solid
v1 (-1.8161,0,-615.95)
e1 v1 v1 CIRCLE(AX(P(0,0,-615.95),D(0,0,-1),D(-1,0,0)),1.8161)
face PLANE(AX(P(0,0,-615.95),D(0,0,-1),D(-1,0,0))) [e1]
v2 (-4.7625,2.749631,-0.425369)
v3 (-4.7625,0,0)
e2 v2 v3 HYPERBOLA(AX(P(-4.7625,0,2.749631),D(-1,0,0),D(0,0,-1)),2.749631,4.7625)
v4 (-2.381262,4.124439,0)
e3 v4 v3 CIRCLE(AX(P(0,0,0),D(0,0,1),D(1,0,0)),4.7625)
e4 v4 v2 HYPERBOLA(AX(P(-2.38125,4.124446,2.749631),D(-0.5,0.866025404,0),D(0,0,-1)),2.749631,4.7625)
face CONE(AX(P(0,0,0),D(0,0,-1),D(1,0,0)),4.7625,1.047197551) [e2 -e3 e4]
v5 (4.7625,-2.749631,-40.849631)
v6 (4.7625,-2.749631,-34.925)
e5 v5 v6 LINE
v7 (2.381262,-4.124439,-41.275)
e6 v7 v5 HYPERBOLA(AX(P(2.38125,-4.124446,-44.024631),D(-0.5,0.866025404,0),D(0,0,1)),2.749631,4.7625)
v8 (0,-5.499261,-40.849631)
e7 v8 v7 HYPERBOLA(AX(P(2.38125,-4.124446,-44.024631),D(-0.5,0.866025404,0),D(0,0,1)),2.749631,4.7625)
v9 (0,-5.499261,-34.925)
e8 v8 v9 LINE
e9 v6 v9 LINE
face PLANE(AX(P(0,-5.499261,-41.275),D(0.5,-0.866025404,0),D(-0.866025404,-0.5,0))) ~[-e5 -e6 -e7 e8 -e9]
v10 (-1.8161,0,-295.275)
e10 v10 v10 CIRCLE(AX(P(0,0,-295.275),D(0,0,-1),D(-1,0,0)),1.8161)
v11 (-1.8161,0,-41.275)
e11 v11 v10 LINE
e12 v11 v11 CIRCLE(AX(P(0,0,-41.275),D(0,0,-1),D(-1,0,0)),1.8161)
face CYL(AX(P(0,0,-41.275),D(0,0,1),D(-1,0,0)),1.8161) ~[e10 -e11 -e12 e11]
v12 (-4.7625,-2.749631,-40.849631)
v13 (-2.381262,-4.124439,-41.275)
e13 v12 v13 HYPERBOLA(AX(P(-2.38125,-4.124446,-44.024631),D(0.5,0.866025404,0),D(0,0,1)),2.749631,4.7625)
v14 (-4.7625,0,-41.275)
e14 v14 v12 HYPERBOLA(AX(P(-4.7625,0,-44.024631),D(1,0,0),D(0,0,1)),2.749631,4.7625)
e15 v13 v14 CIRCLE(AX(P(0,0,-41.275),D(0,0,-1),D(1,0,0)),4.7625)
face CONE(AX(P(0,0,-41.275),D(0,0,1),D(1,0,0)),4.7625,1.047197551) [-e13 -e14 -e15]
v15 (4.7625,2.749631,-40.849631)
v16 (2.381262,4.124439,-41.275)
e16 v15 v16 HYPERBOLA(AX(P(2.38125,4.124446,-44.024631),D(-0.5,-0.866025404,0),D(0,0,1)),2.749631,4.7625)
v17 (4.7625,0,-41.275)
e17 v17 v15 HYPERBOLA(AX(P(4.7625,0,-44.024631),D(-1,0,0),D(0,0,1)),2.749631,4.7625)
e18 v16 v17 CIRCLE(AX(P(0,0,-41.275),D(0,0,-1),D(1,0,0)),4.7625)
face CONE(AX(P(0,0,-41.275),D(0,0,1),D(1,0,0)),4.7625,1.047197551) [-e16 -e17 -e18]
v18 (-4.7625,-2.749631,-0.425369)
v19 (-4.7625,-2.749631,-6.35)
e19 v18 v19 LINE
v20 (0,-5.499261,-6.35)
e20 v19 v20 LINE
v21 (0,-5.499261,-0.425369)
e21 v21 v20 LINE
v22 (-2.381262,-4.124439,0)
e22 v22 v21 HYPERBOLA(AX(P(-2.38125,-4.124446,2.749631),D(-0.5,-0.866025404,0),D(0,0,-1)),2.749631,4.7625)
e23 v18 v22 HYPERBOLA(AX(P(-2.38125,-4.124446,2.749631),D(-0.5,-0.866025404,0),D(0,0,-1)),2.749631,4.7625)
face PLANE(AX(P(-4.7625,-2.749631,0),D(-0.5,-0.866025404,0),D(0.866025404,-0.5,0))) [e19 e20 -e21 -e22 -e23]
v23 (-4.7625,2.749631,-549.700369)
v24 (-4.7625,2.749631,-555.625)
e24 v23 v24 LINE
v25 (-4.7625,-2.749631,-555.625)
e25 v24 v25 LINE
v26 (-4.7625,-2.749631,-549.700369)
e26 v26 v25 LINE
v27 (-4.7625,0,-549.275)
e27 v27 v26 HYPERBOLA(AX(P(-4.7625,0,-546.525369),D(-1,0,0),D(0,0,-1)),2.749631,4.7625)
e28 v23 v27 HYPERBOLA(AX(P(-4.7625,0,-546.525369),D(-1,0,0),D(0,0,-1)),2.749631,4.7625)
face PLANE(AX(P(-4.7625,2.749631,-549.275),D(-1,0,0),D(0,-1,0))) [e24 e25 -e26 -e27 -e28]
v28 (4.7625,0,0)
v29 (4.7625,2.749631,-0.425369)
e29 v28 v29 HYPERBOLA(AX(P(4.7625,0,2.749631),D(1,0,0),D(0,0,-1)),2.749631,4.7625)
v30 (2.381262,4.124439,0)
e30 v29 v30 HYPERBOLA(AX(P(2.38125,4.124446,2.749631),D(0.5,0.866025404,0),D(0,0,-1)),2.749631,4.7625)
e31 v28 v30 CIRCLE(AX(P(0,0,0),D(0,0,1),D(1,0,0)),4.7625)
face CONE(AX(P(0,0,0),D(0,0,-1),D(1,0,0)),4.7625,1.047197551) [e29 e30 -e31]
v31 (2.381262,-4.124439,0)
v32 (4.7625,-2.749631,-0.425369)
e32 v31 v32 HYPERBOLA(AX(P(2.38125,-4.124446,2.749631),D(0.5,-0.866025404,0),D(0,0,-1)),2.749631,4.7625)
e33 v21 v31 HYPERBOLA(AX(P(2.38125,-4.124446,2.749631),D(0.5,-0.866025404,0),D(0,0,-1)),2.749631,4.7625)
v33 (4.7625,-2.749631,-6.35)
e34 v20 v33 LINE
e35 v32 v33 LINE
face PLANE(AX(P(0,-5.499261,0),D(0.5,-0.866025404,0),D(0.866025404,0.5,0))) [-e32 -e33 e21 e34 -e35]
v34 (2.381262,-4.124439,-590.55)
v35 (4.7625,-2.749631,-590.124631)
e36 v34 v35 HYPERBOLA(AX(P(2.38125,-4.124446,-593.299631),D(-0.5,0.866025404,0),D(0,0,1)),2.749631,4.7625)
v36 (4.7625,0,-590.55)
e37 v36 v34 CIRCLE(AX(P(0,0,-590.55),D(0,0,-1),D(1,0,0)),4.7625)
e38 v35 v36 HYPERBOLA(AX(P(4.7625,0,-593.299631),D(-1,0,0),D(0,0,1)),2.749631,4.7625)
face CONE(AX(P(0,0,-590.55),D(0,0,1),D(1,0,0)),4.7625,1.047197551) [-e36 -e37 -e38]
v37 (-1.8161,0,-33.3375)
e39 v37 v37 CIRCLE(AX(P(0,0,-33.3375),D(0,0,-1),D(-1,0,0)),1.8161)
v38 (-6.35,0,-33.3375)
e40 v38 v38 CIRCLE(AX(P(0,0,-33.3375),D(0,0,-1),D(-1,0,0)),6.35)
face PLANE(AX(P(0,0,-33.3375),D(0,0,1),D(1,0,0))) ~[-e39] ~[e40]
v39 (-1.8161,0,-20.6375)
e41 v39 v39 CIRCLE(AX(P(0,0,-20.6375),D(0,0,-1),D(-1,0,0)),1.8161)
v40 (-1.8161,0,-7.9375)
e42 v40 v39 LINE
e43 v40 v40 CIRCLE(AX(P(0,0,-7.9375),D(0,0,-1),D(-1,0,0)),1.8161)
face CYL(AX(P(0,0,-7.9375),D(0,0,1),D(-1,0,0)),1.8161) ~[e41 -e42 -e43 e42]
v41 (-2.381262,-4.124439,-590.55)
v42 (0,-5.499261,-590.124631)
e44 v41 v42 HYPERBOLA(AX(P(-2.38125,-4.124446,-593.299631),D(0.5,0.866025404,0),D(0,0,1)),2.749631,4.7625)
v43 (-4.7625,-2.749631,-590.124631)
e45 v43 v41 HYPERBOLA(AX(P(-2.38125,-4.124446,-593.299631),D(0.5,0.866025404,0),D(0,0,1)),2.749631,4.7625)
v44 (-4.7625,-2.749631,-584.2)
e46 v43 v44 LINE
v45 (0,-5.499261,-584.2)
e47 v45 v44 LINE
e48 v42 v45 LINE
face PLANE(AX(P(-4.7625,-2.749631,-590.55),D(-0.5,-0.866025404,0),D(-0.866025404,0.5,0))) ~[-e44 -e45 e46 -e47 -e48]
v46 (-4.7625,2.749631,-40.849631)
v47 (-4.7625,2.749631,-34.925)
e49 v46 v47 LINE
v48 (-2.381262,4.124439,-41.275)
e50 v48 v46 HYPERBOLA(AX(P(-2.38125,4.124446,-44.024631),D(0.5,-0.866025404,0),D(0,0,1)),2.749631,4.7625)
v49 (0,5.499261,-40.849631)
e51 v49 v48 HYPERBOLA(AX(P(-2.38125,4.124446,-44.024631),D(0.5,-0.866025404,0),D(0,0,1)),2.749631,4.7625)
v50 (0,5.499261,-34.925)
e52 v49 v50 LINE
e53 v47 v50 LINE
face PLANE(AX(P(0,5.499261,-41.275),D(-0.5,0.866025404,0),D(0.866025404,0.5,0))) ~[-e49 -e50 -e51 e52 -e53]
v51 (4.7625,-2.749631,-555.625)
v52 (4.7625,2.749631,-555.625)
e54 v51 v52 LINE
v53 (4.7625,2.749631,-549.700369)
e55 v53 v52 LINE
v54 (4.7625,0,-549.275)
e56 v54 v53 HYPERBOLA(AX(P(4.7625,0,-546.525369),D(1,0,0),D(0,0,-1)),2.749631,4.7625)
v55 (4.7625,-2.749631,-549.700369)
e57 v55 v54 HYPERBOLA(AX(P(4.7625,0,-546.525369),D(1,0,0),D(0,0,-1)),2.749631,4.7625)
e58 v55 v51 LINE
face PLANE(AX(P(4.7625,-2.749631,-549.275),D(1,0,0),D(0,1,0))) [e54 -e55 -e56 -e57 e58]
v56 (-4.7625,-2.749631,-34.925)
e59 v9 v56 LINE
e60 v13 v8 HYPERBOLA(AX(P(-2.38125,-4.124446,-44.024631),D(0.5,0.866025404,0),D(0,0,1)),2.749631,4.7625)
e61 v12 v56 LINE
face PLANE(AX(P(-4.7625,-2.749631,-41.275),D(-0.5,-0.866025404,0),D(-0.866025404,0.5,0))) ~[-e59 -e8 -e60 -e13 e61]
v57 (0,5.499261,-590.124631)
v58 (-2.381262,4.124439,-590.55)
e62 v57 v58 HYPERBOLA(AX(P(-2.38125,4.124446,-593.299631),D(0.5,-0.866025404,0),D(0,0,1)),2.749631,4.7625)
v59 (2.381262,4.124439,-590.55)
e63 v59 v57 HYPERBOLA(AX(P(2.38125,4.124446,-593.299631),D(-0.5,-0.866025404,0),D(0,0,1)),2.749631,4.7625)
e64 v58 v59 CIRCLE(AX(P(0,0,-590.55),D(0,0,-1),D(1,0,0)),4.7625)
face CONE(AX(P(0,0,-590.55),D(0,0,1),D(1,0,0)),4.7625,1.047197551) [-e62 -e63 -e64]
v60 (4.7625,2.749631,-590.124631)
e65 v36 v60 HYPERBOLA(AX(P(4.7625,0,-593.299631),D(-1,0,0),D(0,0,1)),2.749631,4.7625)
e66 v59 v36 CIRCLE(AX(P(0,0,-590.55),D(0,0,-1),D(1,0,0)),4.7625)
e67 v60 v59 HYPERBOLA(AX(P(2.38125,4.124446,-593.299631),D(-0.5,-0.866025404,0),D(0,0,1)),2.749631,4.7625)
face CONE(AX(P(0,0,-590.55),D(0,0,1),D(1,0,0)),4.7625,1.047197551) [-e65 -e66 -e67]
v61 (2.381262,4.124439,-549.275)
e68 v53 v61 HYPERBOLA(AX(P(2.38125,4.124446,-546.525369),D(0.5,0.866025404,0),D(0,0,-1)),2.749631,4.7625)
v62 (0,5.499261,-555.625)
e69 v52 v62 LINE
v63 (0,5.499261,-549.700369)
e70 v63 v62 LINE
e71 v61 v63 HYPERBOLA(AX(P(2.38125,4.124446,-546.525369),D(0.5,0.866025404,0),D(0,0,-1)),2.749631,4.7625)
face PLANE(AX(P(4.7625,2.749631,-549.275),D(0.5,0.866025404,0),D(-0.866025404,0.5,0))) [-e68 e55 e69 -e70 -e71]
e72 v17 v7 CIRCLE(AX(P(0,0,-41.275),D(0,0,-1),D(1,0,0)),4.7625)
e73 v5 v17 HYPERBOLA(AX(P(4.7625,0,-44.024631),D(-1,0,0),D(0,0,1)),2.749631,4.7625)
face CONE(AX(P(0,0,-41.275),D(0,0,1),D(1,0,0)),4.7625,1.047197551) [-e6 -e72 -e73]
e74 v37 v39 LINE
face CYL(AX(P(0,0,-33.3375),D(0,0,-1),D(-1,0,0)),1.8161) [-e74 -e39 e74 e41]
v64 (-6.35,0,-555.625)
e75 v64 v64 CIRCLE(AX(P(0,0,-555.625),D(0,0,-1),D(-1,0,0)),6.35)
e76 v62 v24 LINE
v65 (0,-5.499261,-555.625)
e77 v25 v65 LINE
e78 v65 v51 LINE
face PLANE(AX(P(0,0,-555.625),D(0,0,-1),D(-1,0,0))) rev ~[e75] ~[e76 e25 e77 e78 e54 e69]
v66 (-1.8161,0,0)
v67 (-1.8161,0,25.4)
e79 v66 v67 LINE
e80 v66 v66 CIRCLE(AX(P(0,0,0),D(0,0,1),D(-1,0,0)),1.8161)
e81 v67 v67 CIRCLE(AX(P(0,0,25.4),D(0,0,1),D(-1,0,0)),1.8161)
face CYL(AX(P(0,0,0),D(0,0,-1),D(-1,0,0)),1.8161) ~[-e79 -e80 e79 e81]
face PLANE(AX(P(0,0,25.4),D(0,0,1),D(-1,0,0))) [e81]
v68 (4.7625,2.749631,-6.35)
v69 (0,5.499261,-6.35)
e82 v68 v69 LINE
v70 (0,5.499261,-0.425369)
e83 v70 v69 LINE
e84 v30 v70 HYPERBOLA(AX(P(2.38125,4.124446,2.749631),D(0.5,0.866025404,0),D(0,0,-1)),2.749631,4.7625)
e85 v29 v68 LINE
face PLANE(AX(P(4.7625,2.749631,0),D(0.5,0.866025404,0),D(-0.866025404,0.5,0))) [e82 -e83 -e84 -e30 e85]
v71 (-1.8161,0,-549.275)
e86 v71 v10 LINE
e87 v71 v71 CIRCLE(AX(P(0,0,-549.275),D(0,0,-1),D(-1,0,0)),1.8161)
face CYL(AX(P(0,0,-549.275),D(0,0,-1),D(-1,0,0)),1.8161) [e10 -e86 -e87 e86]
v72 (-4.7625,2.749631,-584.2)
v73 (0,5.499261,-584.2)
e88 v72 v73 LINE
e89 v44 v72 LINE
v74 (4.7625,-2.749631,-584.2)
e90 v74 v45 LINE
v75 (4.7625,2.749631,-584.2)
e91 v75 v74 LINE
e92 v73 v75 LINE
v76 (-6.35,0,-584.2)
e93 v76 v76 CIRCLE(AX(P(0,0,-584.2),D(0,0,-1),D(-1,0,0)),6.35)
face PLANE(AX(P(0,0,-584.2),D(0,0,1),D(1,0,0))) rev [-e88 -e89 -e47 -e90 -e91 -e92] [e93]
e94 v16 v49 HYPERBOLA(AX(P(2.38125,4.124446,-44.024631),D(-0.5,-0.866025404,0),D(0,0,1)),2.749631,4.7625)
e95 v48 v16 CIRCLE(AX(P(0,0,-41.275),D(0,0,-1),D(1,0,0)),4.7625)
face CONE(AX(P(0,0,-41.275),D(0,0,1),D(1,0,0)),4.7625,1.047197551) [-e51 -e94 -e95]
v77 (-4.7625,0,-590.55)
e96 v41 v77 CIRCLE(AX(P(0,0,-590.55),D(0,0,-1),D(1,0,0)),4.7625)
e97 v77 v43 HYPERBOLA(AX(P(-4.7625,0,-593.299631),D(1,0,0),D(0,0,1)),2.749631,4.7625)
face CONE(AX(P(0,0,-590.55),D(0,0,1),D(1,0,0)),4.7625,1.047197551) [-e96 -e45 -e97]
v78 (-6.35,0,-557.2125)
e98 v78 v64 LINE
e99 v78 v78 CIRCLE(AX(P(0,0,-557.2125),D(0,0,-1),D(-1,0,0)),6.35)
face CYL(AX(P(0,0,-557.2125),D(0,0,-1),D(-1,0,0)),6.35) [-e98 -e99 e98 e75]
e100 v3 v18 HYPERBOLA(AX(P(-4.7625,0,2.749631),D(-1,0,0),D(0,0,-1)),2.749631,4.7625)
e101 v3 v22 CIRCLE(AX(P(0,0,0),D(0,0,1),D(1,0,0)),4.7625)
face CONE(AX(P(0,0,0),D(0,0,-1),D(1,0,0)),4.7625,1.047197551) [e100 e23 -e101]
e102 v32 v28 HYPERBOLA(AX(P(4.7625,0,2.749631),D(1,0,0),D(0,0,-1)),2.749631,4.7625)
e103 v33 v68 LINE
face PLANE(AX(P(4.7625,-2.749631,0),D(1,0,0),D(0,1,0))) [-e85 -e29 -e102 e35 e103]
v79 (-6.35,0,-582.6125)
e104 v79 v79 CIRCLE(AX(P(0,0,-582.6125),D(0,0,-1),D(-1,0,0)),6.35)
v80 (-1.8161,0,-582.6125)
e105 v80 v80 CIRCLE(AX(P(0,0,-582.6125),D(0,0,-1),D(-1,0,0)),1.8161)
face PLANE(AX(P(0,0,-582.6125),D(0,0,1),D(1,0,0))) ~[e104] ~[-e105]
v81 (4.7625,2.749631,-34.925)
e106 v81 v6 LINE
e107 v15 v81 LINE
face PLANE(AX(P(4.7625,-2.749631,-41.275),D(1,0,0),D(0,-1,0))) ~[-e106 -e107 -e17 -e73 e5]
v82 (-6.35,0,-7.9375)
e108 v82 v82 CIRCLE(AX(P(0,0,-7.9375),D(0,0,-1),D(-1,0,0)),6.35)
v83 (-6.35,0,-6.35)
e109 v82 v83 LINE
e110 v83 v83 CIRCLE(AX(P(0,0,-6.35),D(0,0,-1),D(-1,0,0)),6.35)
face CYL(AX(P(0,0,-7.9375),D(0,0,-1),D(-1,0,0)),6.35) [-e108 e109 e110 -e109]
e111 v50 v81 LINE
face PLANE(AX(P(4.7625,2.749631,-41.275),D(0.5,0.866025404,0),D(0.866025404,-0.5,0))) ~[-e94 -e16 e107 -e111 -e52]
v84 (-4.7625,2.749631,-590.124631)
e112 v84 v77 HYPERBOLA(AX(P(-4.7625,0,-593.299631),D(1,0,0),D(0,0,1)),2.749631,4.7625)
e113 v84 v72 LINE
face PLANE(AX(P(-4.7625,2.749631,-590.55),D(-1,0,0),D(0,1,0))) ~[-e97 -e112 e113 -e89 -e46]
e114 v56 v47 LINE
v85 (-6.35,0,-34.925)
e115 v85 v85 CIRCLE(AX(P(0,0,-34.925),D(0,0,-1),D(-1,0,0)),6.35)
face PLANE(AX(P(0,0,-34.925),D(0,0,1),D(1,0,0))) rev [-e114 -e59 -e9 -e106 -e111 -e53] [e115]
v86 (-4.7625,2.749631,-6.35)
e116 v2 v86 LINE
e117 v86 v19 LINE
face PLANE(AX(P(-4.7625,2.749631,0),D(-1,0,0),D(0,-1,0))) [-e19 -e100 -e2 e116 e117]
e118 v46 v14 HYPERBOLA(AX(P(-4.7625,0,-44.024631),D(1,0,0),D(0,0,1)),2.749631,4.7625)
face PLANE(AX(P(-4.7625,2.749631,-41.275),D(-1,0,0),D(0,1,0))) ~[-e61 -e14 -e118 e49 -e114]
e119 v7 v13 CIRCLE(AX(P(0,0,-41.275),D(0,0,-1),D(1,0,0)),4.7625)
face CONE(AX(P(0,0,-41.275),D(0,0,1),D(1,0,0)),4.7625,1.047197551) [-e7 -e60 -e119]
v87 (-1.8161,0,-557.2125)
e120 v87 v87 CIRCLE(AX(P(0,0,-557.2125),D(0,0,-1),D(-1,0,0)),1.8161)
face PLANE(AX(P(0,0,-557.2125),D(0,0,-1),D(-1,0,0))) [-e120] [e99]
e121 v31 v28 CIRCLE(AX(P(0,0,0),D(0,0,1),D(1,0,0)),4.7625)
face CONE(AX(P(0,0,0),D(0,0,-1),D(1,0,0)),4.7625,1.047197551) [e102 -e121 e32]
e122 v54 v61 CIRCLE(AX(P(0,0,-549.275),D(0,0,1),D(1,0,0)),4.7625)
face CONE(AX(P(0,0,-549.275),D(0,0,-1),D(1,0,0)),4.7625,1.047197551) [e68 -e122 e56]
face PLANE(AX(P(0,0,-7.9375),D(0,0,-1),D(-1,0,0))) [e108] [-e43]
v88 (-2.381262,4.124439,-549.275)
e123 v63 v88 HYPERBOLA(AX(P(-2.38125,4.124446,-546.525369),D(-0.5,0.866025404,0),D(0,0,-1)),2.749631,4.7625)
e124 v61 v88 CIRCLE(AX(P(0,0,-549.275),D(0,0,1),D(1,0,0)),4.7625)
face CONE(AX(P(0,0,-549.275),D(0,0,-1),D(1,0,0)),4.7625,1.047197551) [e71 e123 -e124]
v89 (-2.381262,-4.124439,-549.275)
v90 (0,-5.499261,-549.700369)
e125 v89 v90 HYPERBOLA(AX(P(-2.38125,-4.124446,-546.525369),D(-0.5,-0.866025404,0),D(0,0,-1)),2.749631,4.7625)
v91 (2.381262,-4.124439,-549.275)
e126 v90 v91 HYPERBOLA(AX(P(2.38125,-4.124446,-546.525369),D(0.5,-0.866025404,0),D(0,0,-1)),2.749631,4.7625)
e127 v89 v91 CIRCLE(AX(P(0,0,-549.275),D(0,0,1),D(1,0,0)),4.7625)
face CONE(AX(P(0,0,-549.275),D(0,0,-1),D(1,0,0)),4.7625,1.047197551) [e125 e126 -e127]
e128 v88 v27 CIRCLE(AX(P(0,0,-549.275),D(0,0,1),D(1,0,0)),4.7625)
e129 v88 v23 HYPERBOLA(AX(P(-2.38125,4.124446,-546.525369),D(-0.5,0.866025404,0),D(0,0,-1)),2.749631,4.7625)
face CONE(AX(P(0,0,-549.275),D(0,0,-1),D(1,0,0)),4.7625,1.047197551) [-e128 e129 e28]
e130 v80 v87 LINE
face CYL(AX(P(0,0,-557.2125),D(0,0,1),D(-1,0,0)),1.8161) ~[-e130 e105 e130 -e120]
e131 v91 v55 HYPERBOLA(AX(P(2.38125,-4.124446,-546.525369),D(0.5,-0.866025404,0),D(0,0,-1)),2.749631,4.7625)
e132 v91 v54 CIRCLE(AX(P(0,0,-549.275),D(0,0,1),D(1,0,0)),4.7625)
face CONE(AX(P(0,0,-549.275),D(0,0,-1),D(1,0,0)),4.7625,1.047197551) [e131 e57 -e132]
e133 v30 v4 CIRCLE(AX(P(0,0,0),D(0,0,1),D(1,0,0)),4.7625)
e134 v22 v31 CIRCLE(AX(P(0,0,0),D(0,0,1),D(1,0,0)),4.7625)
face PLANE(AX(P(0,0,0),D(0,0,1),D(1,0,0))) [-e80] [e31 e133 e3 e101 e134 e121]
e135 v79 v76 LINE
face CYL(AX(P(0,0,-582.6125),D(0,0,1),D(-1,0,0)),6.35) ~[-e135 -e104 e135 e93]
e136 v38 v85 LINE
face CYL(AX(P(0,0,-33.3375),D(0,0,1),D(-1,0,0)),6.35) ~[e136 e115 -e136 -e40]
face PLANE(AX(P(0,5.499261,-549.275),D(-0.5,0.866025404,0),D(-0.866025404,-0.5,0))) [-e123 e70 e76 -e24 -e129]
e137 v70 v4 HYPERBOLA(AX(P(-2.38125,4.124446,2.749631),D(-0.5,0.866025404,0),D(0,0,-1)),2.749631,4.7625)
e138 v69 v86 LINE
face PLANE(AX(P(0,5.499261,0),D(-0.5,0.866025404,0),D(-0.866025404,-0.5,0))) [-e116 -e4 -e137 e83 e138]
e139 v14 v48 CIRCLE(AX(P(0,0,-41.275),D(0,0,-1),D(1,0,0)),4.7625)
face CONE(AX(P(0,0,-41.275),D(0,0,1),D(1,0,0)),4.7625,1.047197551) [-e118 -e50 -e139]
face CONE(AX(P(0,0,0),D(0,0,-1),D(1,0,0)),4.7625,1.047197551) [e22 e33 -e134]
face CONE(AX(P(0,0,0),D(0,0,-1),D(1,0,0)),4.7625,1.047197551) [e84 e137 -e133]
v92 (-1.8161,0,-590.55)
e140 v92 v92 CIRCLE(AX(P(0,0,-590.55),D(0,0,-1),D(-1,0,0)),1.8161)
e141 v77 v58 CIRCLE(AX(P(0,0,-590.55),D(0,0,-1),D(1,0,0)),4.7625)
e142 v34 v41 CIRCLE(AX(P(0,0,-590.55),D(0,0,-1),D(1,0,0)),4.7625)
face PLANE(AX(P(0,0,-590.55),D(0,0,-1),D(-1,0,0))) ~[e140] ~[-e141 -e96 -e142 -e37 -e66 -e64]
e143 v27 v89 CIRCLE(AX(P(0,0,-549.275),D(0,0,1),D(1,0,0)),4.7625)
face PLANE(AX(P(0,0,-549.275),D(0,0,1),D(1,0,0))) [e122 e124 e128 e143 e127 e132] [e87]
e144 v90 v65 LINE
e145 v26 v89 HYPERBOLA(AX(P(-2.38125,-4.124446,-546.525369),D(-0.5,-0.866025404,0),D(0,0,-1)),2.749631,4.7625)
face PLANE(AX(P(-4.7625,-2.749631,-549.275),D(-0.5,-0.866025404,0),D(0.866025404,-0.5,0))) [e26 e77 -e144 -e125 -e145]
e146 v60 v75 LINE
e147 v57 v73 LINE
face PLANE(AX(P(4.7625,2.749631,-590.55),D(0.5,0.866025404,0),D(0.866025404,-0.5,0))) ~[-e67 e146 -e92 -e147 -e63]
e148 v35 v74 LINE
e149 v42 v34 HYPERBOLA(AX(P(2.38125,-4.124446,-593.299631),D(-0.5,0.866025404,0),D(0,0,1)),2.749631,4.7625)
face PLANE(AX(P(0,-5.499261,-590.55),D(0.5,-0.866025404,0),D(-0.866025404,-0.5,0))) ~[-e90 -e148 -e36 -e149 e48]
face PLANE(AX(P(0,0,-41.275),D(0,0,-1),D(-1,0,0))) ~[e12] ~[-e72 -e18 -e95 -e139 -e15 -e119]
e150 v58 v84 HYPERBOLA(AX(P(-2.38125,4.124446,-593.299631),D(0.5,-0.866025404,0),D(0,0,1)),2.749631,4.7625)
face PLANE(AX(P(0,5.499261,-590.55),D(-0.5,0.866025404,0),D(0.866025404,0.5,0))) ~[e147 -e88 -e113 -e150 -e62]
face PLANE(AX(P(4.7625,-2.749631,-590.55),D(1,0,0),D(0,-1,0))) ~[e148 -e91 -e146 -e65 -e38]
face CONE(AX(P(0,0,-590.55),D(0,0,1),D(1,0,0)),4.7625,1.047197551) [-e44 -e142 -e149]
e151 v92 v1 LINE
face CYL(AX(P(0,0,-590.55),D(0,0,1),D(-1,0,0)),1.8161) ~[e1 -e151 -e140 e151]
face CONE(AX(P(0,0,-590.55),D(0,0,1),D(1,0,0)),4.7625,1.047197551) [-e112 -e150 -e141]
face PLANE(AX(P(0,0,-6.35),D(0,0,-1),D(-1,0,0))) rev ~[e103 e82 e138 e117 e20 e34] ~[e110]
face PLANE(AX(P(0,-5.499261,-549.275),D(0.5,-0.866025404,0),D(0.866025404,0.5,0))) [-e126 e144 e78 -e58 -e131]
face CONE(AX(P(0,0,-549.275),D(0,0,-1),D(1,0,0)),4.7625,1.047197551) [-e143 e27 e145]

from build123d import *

# Parameters (mm, degrees)
EXTRUDE1_DEPTH          = 7.9375
SKETCH13_R              = 6.35
EXTRUDE3_DEPTH          = 1.5875
SKETCH2_OUTSIDE_W       = 63.61
SKETCH2_OUTSIDE_H       = 63.61
SKETCH2_OUTSIDE_R       = 4.7625
CUT_EXTRUDE1_DEPTH      = 12.985362166
CUT_EXTRUDE1_DRAFT      = -60
SKETCH14_R              = 1.8161
BOSS_EXTRUDE1_DEPTH     = 12.7
MIRROR1_COPY_1_SKETCH_W = 63.61
MIRROR1_COPY_1_SKETCH_H = 63.61
MIRROR1_COPY_1_SKETCH_R = 4.7625
MIRROR1_COPY_1_DEPTH    = 12.985362166
MIRROR1_COPY_1_DRAFT    = -60
SKETCH15_R              = 1.8161
BOSS_EXTRUDE2_DEPTH     = 254
MIRROR2_COPY_1_SKETCH_W = 63.61
MIRROR2_COPY_1_SKETCH_H = 63.61
MIRROR2_COPY_1_SKETCH_R = 4.7625
MIRROR2_COPY_1_DEPTH    = 12.985362166
MIRROR2_COPY_1_DRAFT    = -60
MIRROR2_COPY_2_DEPTH    = 7.9375
MIRROR2_COPY_3_SKETCH_R = 6.35
MIRROR2_COPY_3_DEPTH    = 1.5875
MIRROR2_COPY_4_SKETCH_R = 1.8161
MIRROR2_COPY_4_DEPTH    = 12.7
MIRROR2_COPY_5_SKETCH_W = 63.61
MIRROR2_COPY_5_SKETCH_H = 63.61
MIRROR2_COPY_5_SKETCH_R = 4.7625
MIRROR2_COPY_5_DEPTH    = 12.985362166
MIRROR2_COPY_5_DRAFT    = -60
SKETCH16_R              = 1.8161
BOSS_EXTRUDE3_DEPTH     = 25.4
SKETCH4_R               = 1.8161
BOSS_EXTRUDE4_DEPTH     = 25.4


with BuildPart() as part:
    # Sketch1 → Extrude1 (new body)
    with BuildSketch(Plane.XY):
        Polygon((0, 5.499261314), (-4.7625, 2.749630657), (-4.7625, -2.749630657), (0, -5.499261314), (4.7625, -2.749630657), (4.7625, 2.749630657), align=None)
    extrude1 = extrude(amount=-EXTRUDE1_DEPTH)

    # Sketch13 → Extrude3 (add)
    with BuildSketch(Plane(origin=(0, 0, -7.9375), x_dir=(-1, 0, 0), z_dir=(0, 0, -1))):
        Circle(SKETCH13_R)
    extrude3 = extrude(amount=-EXTRUDE3_DEPTH)


with BuildPart() as cut_extrude1_tool:
    # Sketch2 outside → Cut-Extrude1 (with draft: the straight prism first)
    with BuildSketch(Plane.XY):
        Rectangle(SKETCH2_OUTSIDE_W, SKETCH2_OUTSIDE_H)
        Circle(SKETCH2_OUTSIDE_R, mode=Mode.SUBTRACT)
    extrude(amount=-CUT_EXTRUDE1_DEPTH)
    # Cut-Extrude1: the draft: its side faces are tilted about the plane it starts from
    cut_extrude1_sides = [cut_extrude1_tool.faces().sort_by_distance(p)[0] for p in [
        (0, -31.805, -6.492681083),
        (31.805, 0, -6.492681083),
        (0, 31.805, -6.492681083),
        (-31.805, 0, -6.492681083),
        (-4.7625, 0, -6.492681083),
    ]]
    draft(cut_extrude1_sides, Plane.XY, CUT_EXTRUDE1_DRAFT)


with BuildPart() as part_1:
    add(part.part)

    # Cut-Extrude1: cut by cut_extrude1_tool
    add(cut_extrude1_tool.part, mode=Mode.SUBTRACT)

    # Sketch14 → Boss-Extrude1 (add)
    with BuildSketch(Plane(origin=(0, 0, -7.9375), x_dir=(-1, 0, 0), z_dir=(0, 0, -1))):
        Circle(SKETCH14_R)
    boss_extrude1 = extrude(amount=BOSS_EXTRUDE1_DEPTH)

    # Mirror1: Extrude1, Extrude3, Boss-Extrude1 across plane
    add(extrude1.mirror(Plane(origin=(0, 0, -20.6375), x_dir=(1, 0, 0), z_dir=(0, 0, -1))))
    add(extrude3.mirror(Plane(origin=(0, 0, -20.6375), x_dir=(1, 0, 0), z_dir=(0, 0, -1))))
    add(boss_extrude1.mirror(Plane(origin=(0, 0, -20.6375), x_dir=(1, 0, 0), z_dir=(0, 0, -1))))


with BuildPart() as mirror1_copy_1_tool:
    # Mirror1 copy 1 sketch → Mirror1 copy 1 (with draft: the straight prism first)
    with BuildSketch(Plane(origin=(0, 0, -41.275), x_dir=(1, 0, 0), z_dir=(0, 0, -1))):
        Rectangle(MIRROR1_COPY_1_SKETCH_W, MIRROR1_COPY_1_SKETCH_H)
        Circle(MIRROR1_COPY_1_SKETCH_R, mode=Mode.SUBTRACT)
    extrude(amount=-MIRROR1_COPY_1_DEPTH)
    # Mirror1 copy 1: the draft: its side faces are tilted about the plane it starts from
    mirror1_copy_1_sides = [mirror1_copy_1_tool.faces().sort_by_distance(p)[0] for p in [
        (0, -31.805, -34.782318917),
        (31.805, 0, -34.782318917),
        (0, 31.805, -34.782318917),
        (-31.805, 0, -34.782318917),
        (-4.7625, 0, -34.782318917),
    ]]
    draft(mirror1_copy_1_sides, Plane(origin=(0, 0, -41.275), x_dir=(1, 0, 0), z_dir=(0, 0, -1)), MIRROR1_COPY_1_DRAFT)


with BuildPart() as part_2:
    add(part_1.part)

    # Mirror1 copy 1: cut by mirror1_copy_1_tool
    add(mirror1_copy_1_tool.part, mode=Mode.SUBTRACT)

    # Sketch15 → Boss-Extrude2 (add)
    with BuildSketch(Plane(origin=(0, 0, -41.275), x_dir=(-1, 0, 0), z_dir=(0, 0, -1))):
        Circle(SKETCH15_R)
    boss_extrude2 = extrude(amount=BOSS_EXTRUDE2_DEPTH)

    # Mirror2: Extrude1, Extrude3, Boss-Extrude1, Boss-Extrude2 across plane
    add(extrude1.mirror(Plane(origin=(0, 0, -295.275), x_dir=(1, 0, 0), z_dir=(0, 0, -1))))
    add(extrude3.mirror(Plane(origin=(0, 0, -295.275), x_dir=(1, 0, 0), z_dir=(0, 0, -1))))
    add(boss_extrude1.mirror(Plane(origin=(0, 0, -295.275), x_dir=(1, 0, 0), z_dir=(0, 0, -1))))
    add(boss_extrude2.mirror(Plane(origin=(0, 0, -295.275), x_dir=(1, 0, 0), z_dir=(0, 0, -1))))


with BuildPart() as mirror2_copy_1_tool:
    # Mirror2 copy 1 sketch → Mirror2 copy 1 (with draft: the straight prism first)
    with BuildSketch(Plane(origin=(0, 0, -590.55), x_dir=(1, 0, 0), z_dir=(0, 0, -1))):
        Rectangle(MIRROR2_COPY_1_SKETCH_W, MIRROR2_COPY_1_SKETCH_H)
        Circle(MIRROR2_COPY_1_SKETCH_R, mode=Mode.SUBTRACT)
    extrude(amount=-MIRROR2_COPY_1_DEPTH)
    # Mirror2 copy 1: the draft: its side faces are tilted about the plane it starts from
    mirror2_copy_1_sides = [mirror2_copy_1_tool.faces().sort_by_distance(p)[0] for p in [
        (0, -31.805, -584.057318917),
        (31.805, 0, -584.057318917),
        (0, 31.805, -584.057318917),
        (-31.805, 0, -584.057318917),
        (-4.7625, 0, -584.057318917),
    ]]
    draft(mirror2_copy_1_sides, Plane(origin=(0, 0, -590.55), x_dir=(1, 0, 0), z_dir=(0, 0, -1)), MIRROR2_COPY_1_DRAFT)


with BuildPart() as part_3:
    add(part_2.part)

    # Mirror2 copy 1: cut by mirror2_copy_1_tool
    add(mirror2_copy_1_tool.part, mode=Mode.SUBTRACT)

    # Mirror2 copy 2 sketch → Mirror2 copy 2 (add)
    with BuildSketch(Plane.XY.offset(-549.275)):
        Polygon((0, 5.499261314), (-4.7625, 2.749630657), (-4.7625, -2.749630657), (0, -5.499261314), (4.7625, -2.749630657), (4.7625, 2.749630657), align=None)
    extrude(amount=-MIRROR2_COPY_2_DEPTH)

    # Mirror2 copy 3 sketch → Mirror2 copy 3 (add)
    with BuildSketch(Plane(origin=(0, 0, -557.2125), x_dir=(-1, 0, 0), z_dir=(0, 0, -1))):
        Circle(MIRROR2_COPY_3_SKETCH_R)
    extrude(amount=-MIRROR2_COPY_3_DEPTH)

    # Mirror2 copy 4 sketch → Mirror2 copy 4 (add)
    with BuildSketch(Plane(origin=(0, 0, -557.2125), x_dir=(-1, 0, 0), z_dir=(0, 0, -1))):
        Circle(MIRROR2_COPY_4_SKETCH_R)
    extrude(amount=MIRROR2_COPY_4_DEPTH)


with BuildPart() as mirror2_copy_5_tool:
    # Mirror2 copy 5 sketch → Mirror2 copy 5 (with draft: the straight prism first)
    with BuildSketch(Plane.XY.offset(-549.275)):
        Rectangle(MIRROR2_COPY_5_SKETCH_W, MIRROR2_COPY_5_SKETCH_H)
        Circle(MIRROR2_COPY_5_SKETCH_R, mode=Mode.SUBTRACT)
    extrude(amount=-MIRROR2_COPY_5_DEPTH)
    # Mirror2 copy 5: the draft: its side faces are tilted about the plane it starts from
    mirror2_copy_5_sides = [mirror2_copy_5_tool.faces().sort_by_distance(p)[0] for p in [
        (0, -31.805, -555.767681083),
        (31.805, 0, -555.767681083),
        (0, 31.805, -555.767681083),
        (-31.805, 0, -555.767681083),
        (-4.7625, 0, -555.767681083),
    ]]
    draft(mirror2_copy_5_sides, Plane.XY.offset(-549.275), MIRROR2_COPY_5_DRAFT)


with BuildPart() as part_4:
    add(part_3.part)

    # Mirror2 copy 5: cut by mirror2_copy_5_tool
    add(mirror2_copy_5_tool.part, mode=Mode.SUBTRACT)

    # Sketch16 → Boss-Extrude3 (add)
    with BuildSketch(Plane(origin=(0, 0, -590.55), x_dir=(-1, 0, 0), z_dir=(0, 0, -1))):
        Circle(SKETCH16_R)
    extrude(amount=BOSS_EXTRUDE3_DEPTH)

    # Sketch4 → Boss-Extrude4 (add)
    with BuildSketch(Plane.XY):
        with Locations(Location((0, 0, 0), (0, 0, 180))):
            Circle(SKETCH4_R)
    extrude(amount=BOSS_EXTRUDE4_DEPTH)


solid = part_4.part
